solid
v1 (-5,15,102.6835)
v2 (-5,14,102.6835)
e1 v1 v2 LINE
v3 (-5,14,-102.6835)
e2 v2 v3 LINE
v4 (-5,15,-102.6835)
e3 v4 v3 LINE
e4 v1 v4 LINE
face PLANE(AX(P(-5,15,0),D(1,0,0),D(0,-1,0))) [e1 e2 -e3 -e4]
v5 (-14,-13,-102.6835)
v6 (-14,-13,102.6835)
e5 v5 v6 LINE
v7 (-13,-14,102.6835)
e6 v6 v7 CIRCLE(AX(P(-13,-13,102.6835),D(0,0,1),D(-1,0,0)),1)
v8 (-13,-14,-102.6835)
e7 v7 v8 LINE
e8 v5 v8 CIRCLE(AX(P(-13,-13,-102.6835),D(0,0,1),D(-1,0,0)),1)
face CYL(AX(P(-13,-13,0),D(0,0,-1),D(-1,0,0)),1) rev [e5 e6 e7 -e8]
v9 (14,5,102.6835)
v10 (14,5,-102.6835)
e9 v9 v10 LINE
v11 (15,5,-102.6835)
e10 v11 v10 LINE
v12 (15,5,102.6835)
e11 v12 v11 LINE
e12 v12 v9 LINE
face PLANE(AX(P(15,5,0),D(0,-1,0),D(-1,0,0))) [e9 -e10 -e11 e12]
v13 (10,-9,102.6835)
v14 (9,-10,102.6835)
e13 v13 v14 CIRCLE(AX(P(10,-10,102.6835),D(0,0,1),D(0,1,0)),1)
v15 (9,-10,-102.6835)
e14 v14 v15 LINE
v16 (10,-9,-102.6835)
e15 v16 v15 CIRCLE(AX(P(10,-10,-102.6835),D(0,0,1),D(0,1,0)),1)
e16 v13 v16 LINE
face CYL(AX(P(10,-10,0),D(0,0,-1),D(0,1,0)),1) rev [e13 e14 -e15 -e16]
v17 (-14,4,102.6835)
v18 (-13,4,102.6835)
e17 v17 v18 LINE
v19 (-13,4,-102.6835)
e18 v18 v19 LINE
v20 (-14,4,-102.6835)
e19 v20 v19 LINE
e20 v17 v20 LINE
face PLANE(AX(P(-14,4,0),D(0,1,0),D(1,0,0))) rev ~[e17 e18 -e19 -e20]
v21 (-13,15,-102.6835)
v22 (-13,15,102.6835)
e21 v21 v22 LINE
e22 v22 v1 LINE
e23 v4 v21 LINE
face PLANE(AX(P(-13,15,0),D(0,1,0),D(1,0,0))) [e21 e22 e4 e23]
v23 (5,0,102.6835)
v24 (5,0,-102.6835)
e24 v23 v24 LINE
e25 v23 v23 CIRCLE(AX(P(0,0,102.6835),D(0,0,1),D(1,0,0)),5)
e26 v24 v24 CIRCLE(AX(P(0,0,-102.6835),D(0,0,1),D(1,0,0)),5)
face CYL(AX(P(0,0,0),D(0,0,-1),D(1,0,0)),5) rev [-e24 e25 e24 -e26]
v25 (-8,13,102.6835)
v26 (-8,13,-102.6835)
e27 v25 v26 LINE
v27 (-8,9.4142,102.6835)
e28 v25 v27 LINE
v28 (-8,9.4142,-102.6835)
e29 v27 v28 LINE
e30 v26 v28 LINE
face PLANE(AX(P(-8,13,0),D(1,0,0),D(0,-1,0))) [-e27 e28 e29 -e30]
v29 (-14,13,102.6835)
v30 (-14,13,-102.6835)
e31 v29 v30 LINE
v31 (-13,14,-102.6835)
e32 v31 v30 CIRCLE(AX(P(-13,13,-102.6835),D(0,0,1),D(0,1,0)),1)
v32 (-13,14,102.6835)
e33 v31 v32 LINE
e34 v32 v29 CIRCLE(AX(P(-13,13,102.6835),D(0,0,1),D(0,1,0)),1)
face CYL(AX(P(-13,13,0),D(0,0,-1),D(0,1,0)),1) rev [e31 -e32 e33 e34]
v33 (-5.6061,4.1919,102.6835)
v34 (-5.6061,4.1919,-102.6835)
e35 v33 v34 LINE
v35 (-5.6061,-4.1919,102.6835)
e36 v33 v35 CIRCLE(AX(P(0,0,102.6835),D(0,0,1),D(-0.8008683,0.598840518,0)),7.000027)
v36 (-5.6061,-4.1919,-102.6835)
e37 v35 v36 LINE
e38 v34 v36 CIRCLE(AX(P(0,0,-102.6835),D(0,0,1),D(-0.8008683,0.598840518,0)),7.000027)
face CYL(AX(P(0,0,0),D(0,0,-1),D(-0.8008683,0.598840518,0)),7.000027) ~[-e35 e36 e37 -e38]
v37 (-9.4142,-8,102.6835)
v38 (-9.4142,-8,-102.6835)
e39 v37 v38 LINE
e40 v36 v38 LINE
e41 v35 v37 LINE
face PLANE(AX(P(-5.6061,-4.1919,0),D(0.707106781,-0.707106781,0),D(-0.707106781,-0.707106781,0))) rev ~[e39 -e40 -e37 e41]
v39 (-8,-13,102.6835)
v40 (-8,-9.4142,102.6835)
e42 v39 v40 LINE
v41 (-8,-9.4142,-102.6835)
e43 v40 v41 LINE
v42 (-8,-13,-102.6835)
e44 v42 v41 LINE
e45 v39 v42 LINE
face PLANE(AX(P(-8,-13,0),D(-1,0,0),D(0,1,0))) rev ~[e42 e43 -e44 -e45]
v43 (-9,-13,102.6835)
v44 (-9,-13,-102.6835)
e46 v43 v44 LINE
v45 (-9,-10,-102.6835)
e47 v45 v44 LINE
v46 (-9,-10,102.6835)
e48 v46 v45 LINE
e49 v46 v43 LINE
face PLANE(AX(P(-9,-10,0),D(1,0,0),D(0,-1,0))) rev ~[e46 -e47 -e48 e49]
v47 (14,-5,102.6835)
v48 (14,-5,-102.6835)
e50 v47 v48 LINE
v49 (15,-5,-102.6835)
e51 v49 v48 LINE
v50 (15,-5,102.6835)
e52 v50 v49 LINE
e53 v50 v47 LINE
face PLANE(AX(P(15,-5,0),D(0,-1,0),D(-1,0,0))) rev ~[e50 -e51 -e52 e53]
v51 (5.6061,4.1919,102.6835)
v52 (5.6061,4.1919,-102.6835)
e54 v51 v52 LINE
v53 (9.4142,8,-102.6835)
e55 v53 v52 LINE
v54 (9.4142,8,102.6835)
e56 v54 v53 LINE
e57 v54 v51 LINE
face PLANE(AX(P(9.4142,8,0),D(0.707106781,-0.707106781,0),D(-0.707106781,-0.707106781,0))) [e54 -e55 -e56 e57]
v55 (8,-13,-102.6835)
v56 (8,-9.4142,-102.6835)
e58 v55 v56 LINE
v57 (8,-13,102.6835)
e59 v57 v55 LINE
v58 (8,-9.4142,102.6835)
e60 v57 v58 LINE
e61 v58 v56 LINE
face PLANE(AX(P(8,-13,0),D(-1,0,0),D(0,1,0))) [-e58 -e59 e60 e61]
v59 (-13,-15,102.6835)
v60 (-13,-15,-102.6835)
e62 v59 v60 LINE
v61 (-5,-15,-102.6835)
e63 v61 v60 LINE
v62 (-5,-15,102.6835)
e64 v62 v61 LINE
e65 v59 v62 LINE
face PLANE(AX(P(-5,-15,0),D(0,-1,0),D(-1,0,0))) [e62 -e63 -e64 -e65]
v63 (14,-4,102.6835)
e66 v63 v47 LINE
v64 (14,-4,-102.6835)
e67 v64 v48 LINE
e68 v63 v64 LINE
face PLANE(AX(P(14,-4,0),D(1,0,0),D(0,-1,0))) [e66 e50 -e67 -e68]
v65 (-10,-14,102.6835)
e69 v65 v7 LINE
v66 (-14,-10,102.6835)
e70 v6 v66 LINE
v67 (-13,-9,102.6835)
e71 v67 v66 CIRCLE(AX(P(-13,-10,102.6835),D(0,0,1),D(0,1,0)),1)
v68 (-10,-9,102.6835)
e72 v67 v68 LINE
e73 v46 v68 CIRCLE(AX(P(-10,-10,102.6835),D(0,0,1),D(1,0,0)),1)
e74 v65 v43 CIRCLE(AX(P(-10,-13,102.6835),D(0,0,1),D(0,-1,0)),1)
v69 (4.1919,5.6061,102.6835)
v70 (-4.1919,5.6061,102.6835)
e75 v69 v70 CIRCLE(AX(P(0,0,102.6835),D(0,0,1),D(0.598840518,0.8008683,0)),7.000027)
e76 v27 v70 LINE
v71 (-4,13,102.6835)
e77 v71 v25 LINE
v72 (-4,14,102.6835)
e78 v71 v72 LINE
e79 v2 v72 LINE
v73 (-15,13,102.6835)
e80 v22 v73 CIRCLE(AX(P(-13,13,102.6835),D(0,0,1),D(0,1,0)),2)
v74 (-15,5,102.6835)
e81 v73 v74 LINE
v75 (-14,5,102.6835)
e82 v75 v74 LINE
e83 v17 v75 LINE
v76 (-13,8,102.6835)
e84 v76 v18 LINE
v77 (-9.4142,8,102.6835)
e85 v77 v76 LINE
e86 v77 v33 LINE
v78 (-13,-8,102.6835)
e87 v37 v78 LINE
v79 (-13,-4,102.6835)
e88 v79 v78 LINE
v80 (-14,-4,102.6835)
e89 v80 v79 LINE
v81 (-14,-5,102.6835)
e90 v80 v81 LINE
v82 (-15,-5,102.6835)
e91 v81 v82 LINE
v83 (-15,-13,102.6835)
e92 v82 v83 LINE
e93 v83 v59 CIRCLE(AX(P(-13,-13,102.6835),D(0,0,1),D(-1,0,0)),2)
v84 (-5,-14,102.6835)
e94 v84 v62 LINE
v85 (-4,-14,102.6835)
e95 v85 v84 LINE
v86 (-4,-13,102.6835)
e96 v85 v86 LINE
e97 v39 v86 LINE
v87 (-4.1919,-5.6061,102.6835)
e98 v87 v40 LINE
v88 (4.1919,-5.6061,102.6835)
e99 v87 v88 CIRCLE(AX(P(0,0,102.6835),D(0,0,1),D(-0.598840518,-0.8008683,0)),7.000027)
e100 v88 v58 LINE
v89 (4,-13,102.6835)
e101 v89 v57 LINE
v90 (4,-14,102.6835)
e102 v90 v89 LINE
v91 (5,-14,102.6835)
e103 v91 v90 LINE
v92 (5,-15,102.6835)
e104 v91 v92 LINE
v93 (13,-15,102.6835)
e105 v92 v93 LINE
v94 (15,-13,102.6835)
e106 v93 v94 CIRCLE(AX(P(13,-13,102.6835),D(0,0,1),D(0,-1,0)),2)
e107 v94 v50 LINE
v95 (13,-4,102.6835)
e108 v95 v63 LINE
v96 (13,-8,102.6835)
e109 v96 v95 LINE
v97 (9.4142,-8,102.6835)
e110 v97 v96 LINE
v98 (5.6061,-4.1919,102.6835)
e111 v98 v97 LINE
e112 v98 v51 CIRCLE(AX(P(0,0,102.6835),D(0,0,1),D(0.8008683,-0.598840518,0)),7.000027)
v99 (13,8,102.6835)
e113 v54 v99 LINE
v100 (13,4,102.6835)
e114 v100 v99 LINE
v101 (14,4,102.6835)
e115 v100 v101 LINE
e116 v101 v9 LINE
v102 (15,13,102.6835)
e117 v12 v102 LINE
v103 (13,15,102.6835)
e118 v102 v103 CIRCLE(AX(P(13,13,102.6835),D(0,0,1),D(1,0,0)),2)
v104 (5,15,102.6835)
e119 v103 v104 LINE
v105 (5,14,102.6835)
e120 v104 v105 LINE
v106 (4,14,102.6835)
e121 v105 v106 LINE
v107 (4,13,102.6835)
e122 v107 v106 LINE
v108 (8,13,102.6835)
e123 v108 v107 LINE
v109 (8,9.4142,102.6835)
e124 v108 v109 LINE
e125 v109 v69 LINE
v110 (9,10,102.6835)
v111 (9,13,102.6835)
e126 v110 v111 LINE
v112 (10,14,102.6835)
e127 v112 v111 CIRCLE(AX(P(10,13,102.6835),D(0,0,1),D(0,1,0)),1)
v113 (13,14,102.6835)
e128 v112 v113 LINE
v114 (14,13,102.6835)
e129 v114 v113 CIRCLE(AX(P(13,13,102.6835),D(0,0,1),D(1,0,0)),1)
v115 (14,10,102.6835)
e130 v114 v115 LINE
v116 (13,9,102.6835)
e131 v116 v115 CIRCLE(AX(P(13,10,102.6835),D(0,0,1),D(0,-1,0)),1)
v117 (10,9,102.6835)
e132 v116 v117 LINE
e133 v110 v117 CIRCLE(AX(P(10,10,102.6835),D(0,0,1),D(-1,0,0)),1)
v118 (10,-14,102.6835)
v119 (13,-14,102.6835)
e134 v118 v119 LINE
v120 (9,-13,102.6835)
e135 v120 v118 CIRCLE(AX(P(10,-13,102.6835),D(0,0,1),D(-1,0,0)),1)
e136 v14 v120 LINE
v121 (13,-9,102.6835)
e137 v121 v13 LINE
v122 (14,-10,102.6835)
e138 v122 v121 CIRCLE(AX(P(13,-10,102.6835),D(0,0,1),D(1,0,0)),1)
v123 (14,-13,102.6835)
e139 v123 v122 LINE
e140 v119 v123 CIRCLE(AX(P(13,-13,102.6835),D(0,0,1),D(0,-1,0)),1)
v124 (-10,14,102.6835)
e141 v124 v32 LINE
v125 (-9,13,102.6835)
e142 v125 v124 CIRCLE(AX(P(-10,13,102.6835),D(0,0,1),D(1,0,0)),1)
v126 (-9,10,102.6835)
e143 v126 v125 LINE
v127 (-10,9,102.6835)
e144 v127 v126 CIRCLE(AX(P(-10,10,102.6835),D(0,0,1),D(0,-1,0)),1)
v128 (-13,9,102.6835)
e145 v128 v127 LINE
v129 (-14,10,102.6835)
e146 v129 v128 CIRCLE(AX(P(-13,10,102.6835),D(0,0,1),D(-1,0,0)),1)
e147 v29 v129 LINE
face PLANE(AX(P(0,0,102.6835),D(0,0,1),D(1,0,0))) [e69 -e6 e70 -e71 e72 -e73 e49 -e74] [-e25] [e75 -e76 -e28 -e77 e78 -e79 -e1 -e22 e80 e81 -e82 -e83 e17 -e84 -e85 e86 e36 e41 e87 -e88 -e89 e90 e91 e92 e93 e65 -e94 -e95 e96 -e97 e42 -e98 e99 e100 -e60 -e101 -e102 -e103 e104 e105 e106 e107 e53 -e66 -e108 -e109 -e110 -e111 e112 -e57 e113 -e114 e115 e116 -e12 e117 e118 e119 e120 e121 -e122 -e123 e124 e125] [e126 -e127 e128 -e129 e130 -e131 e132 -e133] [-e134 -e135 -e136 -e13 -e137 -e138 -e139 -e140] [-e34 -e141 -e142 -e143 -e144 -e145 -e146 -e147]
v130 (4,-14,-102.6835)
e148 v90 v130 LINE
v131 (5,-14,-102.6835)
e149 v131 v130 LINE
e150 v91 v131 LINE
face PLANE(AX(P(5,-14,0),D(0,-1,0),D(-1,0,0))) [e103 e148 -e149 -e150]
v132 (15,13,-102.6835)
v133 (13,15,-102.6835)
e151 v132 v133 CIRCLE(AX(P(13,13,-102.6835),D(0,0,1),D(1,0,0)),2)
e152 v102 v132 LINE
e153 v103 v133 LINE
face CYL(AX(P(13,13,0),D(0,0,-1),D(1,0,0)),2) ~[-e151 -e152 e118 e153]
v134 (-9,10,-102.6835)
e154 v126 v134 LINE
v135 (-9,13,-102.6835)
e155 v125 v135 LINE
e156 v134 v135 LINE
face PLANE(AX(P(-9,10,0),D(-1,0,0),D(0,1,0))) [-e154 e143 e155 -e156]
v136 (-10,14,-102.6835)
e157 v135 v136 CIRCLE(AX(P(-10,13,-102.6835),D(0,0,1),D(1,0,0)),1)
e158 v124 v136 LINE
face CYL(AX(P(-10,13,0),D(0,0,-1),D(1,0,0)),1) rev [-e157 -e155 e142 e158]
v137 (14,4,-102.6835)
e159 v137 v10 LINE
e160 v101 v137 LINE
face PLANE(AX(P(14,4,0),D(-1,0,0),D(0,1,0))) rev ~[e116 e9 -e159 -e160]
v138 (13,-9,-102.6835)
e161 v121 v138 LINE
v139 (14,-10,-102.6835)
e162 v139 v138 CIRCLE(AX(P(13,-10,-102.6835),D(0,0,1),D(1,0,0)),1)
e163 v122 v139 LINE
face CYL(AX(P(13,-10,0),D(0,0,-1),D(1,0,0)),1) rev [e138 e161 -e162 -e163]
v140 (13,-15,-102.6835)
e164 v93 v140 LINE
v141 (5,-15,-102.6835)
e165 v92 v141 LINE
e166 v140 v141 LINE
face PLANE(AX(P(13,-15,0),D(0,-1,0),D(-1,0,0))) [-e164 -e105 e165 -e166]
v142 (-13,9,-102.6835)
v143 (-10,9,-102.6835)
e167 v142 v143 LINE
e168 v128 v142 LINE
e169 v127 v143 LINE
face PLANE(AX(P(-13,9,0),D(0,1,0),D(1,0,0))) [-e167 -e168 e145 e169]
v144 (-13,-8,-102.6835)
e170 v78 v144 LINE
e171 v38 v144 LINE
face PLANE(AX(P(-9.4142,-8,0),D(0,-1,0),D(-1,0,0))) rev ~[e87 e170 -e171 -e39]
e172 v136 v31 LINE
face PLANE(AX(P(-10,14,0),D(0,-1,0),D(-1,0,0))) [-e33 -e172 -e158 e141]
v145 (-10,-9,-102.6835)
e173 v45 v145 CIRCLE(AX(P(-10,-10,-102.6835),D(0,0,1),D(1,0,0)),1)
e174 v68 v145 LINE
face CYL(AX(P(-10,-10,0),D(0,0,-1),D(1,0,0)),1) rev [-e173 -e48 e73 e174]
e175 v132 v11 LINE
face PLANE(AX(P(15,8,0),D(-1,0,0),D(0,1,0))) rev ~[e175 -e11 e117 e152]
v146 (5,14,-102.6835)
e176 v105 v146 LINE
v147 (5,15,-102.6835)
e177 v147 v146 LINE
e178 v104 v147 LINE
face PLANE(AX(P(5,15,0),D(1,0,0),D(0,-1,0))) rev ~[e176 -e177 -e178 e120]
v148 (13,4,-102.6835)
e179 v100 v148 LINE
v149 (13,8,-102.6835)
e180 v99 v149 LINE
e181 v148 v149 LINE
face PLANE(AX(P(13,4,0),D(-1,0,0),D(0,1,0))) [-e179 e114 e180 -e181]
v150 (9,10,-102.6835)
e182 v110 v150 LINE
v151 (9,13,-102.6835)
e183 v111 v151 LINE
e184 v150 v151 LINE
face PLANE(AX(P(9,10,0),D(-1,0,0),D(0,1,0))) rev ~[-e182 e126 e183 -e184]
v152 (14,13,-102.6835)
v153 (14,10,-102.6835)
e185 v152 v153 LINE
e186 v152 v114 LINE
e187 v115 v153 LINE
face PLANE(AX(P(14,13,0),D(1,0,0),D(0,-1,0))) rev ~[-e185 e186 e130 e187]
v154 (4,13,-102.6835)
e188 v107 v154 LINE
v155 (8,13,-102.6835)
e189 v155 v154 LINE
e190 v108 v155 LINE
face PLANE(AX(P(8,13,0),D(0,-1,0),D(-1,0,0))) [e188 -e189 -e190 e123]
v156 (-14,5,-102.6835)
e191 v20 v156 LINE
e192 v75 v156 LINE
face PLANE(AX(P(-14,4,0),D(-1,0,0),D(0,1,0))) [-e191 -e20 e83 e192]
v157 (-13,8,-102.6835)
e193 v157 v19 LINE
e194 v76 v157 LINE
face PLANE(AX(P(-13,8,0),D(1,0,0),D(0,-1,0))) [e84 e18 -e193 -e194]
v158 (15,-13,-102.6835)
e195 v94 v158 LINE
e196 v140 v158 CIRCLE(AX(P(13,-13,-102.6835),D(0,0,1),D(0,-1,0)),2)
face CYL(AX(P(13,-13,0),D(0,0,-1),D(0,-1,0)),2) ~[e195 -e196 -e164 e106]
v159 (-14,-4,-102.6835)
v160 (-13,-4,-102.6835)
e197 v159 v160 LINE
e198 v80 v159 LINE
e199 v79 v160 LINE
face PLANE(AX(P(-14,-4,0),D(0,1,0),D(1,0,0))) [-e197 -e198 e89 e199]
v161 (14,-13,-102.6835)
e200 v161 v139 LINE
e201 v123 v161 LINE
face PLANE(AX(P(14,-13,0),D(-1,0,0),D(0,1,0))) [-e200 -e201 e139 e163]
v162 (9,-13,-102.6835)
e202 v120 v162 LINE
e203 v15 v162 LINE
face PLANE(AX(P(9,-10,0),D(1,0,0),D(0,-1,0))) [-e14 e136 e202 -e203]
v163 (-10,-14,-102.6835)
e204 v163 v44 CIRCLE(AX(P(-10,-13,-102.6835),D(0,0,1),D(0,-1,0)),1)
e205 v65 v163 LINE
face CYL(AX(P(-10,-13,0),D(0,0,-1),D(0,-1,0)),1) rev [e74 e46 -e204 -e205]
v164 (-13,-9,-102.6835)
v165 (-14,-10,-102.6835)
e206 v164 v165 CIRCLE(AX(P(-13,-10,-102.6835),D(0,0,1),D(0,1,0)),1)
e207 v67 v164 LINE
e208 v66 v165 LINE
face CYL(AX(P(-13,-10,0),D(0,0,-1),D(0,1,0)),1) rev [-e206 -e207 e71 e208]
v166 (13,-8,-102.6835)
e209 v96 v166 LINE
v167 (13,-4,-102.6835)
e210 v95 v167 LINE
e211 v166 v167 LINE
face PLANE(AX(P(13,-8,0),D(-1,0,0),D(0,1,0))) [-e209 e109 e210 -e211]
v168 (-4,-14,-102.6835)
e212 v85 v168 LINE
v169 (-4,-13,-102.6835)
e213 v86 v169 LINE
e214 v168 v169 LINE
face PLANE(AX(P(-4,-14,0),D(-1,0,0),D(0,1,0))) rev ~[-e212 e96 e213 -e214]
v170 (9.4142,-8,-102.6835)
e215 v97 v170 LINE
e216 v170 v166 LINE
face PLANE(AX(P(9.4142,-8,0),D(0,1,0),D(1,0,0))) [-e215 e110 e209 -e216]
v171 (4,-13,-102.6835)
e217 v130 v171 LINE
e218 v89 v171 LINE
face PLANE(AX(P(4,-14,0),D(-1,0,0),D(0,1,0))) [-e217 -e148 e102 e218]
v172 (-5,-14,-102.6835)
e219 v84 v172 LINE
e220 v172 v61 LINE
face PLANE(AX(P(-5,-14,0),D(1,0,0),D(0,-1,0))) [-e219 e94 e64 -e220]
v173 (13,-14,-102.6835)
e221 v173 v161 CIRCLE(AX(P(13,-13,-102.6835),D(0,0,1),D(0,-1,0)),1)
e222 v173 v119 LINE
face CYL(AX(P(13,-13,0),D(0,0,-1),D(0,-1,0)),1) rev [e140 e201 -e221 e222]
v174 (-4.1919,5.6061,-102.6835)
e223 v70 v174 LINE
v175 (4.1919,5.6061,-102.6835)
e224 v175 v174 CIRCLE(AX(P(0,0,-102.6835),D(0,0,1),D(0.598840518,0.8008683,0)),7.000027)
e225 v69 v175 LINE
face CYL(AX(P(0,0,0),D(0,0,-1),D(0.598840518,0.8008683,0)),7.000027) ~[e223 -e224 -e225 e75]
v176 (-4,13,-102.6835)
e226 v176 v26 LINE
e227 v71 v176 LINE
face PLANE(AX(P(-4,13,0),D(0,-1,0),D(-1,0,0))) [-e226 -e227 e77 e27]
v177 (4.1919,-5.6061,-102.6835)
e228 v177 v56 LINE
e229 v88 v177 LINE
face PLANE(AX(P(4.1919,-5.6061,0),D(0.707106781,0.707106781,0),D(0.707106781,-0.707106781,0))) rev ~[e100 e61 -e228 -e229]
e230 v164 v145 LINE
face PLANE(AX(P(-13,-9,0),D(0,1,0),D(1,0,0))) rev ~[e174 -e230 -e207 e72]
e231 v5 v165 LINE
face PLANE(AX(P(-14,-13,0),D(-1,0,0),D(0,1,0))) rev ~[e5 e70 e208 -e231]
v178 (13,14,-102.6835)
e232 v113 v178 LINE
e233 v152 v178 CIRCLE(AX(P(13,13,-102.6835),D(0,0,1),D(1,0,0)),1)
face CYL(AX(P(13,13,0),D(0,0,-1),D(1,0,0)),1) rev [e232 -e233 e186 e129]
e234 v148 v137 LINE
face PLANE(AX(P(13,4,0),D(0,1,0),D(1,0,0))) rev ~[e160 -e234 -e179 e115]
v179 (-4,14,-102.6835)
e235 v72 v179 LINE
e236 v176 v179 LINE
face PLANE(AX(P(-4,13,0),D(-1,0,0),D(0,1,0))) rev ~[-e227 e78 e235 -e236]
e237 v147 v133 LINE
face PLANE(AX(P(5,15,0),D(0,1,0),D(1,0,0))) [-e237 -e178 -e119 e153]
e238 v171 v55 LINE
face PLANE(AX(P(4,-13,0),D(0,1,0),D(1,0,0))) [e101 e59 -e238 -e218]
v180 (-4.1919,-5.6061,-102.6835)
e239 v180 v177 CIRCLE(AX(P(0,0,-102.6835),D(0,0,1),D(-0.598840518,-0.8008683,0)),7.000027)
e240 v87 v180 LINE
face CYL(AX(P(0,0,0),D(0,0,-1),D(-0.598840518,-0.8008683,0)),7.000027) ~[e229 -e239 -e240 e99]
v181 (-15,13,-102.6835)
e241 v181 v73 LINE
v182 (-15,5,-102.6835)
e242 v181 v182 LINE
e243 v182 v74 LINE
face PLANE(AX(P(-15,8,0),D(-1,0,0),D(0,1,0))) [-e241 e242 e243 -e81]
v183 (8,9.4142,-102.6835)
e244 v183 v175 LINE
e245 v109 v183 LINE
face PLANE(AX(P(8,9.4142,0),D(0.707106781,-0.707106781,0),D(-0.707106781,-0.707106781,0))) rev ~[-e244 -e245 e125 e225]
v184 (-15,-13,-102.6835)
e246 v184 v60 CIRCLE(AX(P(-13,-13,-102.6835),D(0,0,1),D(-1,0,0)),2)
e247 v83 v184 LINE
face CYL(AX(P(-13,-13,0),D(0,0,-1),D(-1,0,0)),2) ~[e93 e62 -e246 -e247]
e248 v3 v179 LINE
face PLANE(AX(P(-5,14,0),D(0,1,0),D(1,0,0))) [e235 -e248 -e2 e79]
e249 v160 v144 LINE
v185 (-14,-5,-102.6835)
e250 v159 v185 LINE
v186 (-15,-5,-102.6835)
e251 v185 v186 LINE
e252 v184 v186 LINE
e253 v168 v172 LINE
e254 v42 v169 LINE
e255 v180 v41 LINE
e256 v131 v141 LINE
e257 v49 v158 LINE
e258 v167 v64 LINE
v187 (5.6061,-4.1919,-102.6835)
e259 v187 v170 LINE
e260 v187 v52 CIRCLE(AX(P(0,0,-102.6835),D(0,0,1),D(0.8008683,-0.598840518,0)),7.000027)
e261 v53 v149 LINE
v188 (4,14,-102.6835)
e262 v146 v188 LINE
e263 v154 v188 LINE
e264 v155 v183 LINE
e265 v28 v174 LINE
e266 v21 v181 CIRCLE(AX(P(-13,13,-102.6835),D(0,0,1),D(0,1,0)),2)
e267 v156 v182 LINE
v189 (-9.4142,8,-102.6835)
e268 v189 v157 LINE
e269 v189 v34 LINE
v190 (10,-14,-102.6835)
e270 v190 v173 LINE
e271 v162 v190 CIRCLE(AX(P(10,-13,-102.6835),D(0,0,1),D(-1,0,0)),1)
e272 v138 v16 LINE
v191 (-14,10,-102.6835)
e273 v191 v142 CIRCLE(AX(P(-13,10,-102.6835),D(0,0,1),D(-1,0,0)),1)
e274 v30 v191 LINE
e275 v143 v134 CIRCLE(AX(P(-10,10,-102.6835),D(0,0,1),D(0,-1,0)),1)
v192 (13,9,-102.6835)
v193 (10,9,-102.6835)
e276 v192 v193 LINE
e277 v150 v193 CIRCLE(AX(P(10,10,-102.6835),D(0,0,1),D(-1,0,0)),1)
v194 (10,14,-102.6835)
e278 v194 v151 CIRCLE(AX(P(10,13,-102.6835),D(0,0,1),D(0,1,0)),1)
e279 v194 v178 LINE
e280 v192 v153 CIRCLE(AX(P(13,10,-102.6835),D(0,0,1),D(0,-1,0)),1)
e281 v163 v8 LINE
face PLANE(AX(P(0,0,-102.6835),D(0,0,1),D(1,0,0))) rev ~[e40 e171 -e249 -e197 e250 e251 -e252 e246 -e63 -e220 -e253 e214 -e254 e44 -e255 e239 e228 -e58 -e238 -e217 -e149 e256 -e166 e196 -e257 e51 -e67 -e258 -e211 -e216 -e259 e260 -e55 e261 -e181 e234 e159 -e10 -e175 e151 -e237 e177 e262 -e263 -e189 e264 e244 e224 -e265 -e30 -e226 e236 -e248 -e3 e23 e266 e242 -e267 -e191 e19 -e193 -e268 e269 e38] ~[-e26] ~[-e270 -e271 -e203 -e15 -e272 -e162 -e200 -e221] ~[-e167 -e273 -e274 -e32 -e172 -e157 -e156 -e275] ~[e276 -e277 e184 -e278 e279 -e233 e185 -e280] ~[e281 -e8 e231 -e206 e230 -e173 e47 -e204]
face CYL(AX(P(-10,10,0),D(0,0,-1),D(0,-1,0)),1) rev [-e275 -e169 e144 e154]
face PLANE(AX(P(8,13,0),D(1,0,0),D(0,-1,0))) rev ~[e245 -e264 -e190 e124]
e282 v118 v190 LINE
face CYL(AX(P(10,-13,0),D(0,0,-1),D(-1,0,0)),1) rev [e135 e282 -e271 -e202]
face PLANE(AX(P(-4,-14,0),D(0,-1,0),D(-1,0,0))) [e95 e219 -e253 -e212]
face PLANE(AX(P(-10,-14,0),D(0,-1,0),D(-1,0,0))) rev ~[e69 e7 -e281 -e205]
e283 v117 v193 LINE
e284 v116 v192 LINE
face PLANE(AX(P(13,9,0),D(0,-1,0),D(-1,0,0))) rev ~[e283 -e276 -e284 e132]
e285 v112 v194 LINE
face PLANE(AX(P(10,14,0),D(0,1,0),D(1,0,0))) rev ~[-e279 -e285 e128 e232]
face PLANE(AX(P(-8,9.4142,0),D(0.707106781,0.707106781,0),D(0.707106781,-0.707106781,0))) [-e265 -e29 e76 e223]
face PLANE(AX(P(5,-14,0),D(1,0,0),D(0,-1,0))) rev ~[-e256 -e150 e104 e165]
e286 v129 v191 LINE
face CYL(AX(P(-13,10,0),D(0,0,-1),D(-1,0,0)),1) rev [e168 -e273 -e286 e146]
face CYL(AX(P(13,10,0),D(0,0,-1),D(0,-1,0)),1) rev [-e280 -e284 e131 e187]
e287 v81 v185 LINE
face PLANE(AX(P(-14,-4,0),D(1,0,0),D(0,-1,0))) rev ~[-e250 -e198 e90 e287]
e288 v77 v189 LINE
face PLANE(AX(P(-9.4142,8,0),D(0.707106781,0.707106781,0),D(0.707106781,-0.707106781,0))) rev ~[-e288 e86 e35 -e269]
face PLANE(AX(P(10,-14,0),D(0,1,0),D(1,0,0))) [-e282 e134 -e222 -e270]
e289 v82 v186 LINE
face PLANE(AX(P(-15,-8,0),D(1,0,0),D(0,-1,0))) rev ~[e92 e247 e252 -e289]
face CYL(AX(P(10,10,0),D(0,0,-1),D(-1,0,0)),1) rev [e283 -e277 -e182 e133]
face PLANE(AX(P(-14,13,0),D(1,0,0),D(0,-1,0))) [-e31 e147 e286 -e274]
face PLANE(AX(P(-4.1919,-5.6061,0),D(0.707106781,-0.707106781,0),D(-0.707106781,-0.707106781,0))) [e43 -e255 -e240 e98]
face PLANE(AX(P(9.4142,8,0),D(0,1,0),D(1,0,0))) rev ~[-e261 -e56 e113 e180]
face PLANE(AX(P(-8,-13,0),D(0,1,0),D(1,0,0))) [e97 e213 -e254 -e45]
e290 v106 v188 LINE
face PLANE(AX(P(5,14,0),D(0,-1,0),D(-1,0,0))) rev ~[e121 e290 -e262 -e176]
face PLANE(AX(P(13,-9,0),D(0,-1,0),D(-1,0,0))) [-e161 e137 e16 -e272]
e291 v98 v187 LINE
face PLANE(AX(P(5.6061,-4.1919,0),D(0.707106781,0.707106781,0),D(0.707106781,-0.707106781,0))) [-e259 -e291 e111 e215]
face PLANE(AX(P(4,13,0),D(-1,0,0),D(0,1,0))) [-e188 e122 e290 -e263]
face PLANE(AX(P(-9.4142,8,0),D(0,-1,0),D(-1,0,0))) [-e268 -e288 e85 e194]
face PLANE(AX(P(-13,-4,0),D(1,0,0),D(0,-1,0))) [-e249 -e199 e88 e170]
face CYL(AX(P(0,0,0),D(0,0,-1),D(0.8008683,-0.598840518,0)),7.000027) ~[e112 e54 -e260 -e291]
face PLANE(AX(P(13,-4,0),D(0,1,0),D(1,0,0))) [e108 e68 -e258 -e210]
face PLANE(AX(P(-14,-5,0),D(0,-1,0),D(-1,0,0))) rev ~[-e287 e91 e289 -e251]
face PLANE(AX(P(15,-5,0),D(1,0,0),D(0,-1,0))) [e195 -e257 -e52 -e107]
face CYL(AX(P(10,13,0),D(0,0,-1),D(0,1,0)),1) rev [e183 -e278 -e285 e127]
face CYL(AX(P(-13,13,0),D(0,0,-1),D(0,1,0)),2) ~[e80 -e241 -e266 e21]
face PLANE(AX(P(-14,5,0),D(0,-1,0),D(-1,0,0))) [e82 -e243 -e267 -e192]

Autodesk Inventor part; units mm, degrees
ref_plane "YZ Plane" through (0, 0, 0) normal (1, 0, 0) x (0, 1, 0)
ref_plane "XZ Plane" through (0, 0, 0) normal (0, 1, 0) x (-1, 0, 0)
ref_plane "XY Plane" through (0, 0, 0) normal (0, 0, 1) x (1, 0, 0)
sketch "Sketch1" plane through (0, 0, 0) normal (0, 0, 1) x (1, 0, 0)
  circle A0 centre (0, 0) radius 5
  arc A1 (-13, 15) -> (-15, 13) centre (-13, 13) ccw
  arc A2 (-15, -13) -> (-13, -15) centre (-13, -13) ccw
  arc A3 (13, -15) -> (15, -13) centre (13, -13) ccw
  arc A4 (15, 13) -> (13, 15) centre (13, 13) ccw
  arc A5 (-13, 14) -> (-14, 13) centre (-13, 13) ccw
  arc A6 (-14, -13) -> (-13, -14) centre (-13, -13) ccw
  arc A7 (13, -14) -> (14, -13) centre (13, -13) ccw
  arc A8 (14, 13) -> (13, 14) centre (13, 13) ccw
  line L0 (14, -14) -> (-14, 14) construction
  line L1 (-14, -14) -> (14, 14) construction
  line L2 (15, -15) -> (-15, 15) construction
  line L3 (-15, -15) -> (15, 15) construction
  line L4 (-13, 15) -> (-8, 15)
  line L5 (-8, 13) -> (-8, 8) construction
  line L6 (-9.4142, 8) -> (-13, 8)
  line L7 (-15, 8) -> (-15, 13)
  line L8 (-13, -15) -> (-8, -15)
  line L9 (-8, -13) -> (-8, -9.4142)
  line L10 (-9.4142, -8) -> (-13, -8)
  line L11 (-15, -8) -> (-15, -13)
  line L12 (13, -15) -> (8, -15)
  line L13 (8, -13) -> (8, -9.4142)
  line L14 (9.4142, -8) -> (13, -8)
  line L15 (15, -8) -> (15, -13)
  line L16 (13, 15) -> (8, 15)
  line L17 (8, 13) -> (8, 9.4142)
  line L18 (9.4142, 8) -> (13, 8)
  line L19 (15, 8) -> (15, 13)
  line L20 (-13, 9) -> (-10, 9)
  line L21 (-9, 10) -> (-9, 13)
  line L22 (-10, 14) -> (-13, 14)
  line L23 (-14, 13) -> (-14, 10)
  line L24 (13, 9) -> (10, 9)
  line L25 (9, 10) -> (9, 13)
  line L26 (10, 14) -> (13, 14)
  line L27 (14, 13) -> (14, 10)
  line L28 (13, -9) -> (10, -9)
  line L29 (9, -10) -> (9, -13)
  line L30 (10, -14) -> (13, -14)
  line L31 (14, -13) -> (14, -10)
  line L32 (-13, -9) -> (-10, -9)
  line L33 (-9, -10) -> (-9, -13)
  line L34 (-10, -14) -> (-13, -14)
  line L35 (-14, -13) -> (-14, -10)
  line L36 (-14, 13) -> (-14, 10)
  line L37 (-14, -10) -> (-14, -13)
  line L38 (-14, -13) -> (-14, -10)
  line L39 (-14, 10) -> (-14, 13)
  line L40 (13, -15) -> (5, -15)
  line L41 (-5, -15) -> (-13, -15)
  line L42 (13, -15) -> (5, -15) construction
  line L43 (0, -15) -> (-13, -15) construction
  line L44 (4, -13) -> (8, -13)
  line L45 (-8, -13) -> (-4, -13)
  line L46 (10, -9) -> (13, -9)
  line L47 (14, -10) -> (14, -13)
  line L48 (13, -14) -> (10, -14)
  line L49 (9, -13) -> (9, -10)
  line L50 (5, -14) -> (5, -15)
  line L51 (13, -14) -> (10, -14)
  line L52 (5, -14) -> (4, -14)
  line L53 (4, -14) -> (5, -14)
  line L54 (10, -14) -> (13, -14)
  line L55 (-4, -14) -> (-5, -14)
  line L56 (-10, -14) -> (-13, -14)
  line L57 (-13, -14) -> (-10, -14)
  line L58 (-5, -14) -> (-4, -14)
  line L59 (14, -13) -> (14, -10)
  line L60 (14, 10) -> (14, 13)
  line L61 (14, 13) -> (14, 10)
  line L62 (14, -10) -> (14, -13)
  line L63 (-5, -14) -> (-5, -15)
  line L64 (10, 14) -> (13, 14)
  line L65 (13, 14) -> (10, 14)
  line L66 (-10, 14) -> (-13, 14)
  line L67 (-13, 14) -> (-10, 14)
  line L68 (-5, 15) -> (-5, 14)
  line L69 (-13, 15) -> (-5, 15)
  line L70 (5, 15) -> (13, 15)
  line L71 (-15, 15) -> (-5, 15) construction
  line L72 (5, 15) -> (15, 15) construction
  line L73 (5, 15) -> (5, 14)
  line L74 (8, 13) -> (4, 13)
  line L75 (5, 14) -> (4, 14)
  line L76 (-5, 14) -> (-4, 14)
  line L77 (4, 14) -> (5, 14)
  line L78 (-4, 13) -> (-8, 13)
  line L79 (-4, 14) -> (-5, 14)
  line L80 (4, 13) -> (4, 14)
  line L81 (-4, 13) -> (-4, 14)
  line L82 (-4, -14) -> (-4, -13)
  line L83 (4, -14) -> (4, -13)
  line L84 (-8, 9.4142) -> (-4.1919, 5.6061)
  line L85 (8, 9.4142) -> (4.1919, 5.6061)
  line L86 (9.4142, 8) -> (5.6061, 4.1919)
  line L87 (5.6061, -4.1919) -> (9.4142, -8)
  line L88 (4.1919, -5.6061) -> (8, -9.4142)
  line L89 (-4.1919, -5.6061) -> (-8, -9.4142)
  line L90 (-5.6061, -4.1919) -> (-9.4142, -8)
  line L91 (-9.4142, 8) -> (-5.6061, 4.1919)
  arc A9 (4.1919, 5.6061) -> (-4.1919, 5.6061) centre (0, 0) ccw
  arc A10 (5.6061, -4.1919) -> (5.6061, 4.1919) centre (0, 0) ccw
  arc A11 (-5.6061, 4.1919) -> (-5.6061, -4.1919) centre (0, 0) ccw
  arc A12 (-4.1919, -5.6061) -> (4.1919, -5.6061) centre (0, 0) ccw
  line L92 (-8, 13) -> (-8, 9.4142)
  line L93 (-15, -13) -> (-15, -5) construction
  line L94 (-15, -13) -> (-15, -5)
  line L95 (-15, 5) -> (-15, 13)
  line L96 (15, -5) -> (15, -13) construction
  line L97 (15, 13) -> (15, 5)
  line L98 (15, -5) -> (15, -13)
  line L99 (-14, -4) -> (-14, -5)
  line L100 (14, -4) -> (14, -5)
  line L101 (14, 4) -> (14, 5)
  line L102 (-14, 4) -> (-14, 5)
  line L103 (-13, 8) -> (-13, 4)
  line L104 (13, 4) -> (13, 8)
  line L105 (13, -8) -> (13, -4)
  line L106 (-13, -4) -> (-13, -8)
  line L107 (-14, -5) -> (-15, -5)
  line L108 (15, -5) -> (14, -5)
  line L109 (15, 5) -> (14, 5)
  line L110 (-14, 5) -> (-15, 5)
  line L111 (13, 4) -> (14, 4)
  line L112 (-14, 4) -> (-13, 4)
  line L113 (-14, -4) -> (-13, -4)
  line L114 (13, -4) -> (14, -4)
  arc A13 (-13, -9) -> (-14, -10) centre (-13, -10) ccw
  arc A14 (-9, -10) -> (-10, -9) centre (-10, -10) ccw
  arc A15 (-10, -14) -> (-9, -13) centre (-10, -13) ccw
  arc A16 (10, -9) -> (9, -10) centre (10, -10) ccw
  arc A17 (9, -13) -> (10, -14) centre (10, -13) ccw
  arc A18 (14, -10) -> (13, -9) centre (13, -10) ccw
  arc A19 (10, 14) -> (9, 13) centre (10, 13) ccw
  arc A20 (9, 10) -> (10, 9) centre (10, 10) ccw
  arc A21 (13, 9) -> (14, 10) centre (13, 10) ccw
  arc A22 (-9, 13) -> (-10, 14) centre (-10, 13) ccw
  arc A23 (-10, 9) -> (-9, 10) centre (-10, 10) ccw
  arc A24 (-14, 10) -> (-13, 9) centre (-13, 10) ccw
  point P0 (15, -15)
  point P1 (-5.5858, -7)
  dimension "d0" = 30
  dimension "d1" = 30
  dimension "d2" = 10
  dimension "d4" = 2
  dimension "d11" = 28
  dimension "d12" = 7
  dimension "d13" = 7
  dimension "d15" = 1
  dimension "d16" = 1
  dimension "d17" = 1
  dimension "d18" = 1
  dimension "d19" = 5
  dimension "d23" = 30
  dimension "d27" = 1
  dimension "d30" = 3.5858
  dimension "d31" = 2
  dimension "d32" = 16
  dimension "d33" = 8
  dimension "d34" = 6
  dimension "d35" = 5.5858
extrude "Extrusion1" add sketch "Sketch1" along normal mid plane 205.367
equation "\"d1\" = d0"
properties part number "lid_holder" material "Aluminum 6061"
